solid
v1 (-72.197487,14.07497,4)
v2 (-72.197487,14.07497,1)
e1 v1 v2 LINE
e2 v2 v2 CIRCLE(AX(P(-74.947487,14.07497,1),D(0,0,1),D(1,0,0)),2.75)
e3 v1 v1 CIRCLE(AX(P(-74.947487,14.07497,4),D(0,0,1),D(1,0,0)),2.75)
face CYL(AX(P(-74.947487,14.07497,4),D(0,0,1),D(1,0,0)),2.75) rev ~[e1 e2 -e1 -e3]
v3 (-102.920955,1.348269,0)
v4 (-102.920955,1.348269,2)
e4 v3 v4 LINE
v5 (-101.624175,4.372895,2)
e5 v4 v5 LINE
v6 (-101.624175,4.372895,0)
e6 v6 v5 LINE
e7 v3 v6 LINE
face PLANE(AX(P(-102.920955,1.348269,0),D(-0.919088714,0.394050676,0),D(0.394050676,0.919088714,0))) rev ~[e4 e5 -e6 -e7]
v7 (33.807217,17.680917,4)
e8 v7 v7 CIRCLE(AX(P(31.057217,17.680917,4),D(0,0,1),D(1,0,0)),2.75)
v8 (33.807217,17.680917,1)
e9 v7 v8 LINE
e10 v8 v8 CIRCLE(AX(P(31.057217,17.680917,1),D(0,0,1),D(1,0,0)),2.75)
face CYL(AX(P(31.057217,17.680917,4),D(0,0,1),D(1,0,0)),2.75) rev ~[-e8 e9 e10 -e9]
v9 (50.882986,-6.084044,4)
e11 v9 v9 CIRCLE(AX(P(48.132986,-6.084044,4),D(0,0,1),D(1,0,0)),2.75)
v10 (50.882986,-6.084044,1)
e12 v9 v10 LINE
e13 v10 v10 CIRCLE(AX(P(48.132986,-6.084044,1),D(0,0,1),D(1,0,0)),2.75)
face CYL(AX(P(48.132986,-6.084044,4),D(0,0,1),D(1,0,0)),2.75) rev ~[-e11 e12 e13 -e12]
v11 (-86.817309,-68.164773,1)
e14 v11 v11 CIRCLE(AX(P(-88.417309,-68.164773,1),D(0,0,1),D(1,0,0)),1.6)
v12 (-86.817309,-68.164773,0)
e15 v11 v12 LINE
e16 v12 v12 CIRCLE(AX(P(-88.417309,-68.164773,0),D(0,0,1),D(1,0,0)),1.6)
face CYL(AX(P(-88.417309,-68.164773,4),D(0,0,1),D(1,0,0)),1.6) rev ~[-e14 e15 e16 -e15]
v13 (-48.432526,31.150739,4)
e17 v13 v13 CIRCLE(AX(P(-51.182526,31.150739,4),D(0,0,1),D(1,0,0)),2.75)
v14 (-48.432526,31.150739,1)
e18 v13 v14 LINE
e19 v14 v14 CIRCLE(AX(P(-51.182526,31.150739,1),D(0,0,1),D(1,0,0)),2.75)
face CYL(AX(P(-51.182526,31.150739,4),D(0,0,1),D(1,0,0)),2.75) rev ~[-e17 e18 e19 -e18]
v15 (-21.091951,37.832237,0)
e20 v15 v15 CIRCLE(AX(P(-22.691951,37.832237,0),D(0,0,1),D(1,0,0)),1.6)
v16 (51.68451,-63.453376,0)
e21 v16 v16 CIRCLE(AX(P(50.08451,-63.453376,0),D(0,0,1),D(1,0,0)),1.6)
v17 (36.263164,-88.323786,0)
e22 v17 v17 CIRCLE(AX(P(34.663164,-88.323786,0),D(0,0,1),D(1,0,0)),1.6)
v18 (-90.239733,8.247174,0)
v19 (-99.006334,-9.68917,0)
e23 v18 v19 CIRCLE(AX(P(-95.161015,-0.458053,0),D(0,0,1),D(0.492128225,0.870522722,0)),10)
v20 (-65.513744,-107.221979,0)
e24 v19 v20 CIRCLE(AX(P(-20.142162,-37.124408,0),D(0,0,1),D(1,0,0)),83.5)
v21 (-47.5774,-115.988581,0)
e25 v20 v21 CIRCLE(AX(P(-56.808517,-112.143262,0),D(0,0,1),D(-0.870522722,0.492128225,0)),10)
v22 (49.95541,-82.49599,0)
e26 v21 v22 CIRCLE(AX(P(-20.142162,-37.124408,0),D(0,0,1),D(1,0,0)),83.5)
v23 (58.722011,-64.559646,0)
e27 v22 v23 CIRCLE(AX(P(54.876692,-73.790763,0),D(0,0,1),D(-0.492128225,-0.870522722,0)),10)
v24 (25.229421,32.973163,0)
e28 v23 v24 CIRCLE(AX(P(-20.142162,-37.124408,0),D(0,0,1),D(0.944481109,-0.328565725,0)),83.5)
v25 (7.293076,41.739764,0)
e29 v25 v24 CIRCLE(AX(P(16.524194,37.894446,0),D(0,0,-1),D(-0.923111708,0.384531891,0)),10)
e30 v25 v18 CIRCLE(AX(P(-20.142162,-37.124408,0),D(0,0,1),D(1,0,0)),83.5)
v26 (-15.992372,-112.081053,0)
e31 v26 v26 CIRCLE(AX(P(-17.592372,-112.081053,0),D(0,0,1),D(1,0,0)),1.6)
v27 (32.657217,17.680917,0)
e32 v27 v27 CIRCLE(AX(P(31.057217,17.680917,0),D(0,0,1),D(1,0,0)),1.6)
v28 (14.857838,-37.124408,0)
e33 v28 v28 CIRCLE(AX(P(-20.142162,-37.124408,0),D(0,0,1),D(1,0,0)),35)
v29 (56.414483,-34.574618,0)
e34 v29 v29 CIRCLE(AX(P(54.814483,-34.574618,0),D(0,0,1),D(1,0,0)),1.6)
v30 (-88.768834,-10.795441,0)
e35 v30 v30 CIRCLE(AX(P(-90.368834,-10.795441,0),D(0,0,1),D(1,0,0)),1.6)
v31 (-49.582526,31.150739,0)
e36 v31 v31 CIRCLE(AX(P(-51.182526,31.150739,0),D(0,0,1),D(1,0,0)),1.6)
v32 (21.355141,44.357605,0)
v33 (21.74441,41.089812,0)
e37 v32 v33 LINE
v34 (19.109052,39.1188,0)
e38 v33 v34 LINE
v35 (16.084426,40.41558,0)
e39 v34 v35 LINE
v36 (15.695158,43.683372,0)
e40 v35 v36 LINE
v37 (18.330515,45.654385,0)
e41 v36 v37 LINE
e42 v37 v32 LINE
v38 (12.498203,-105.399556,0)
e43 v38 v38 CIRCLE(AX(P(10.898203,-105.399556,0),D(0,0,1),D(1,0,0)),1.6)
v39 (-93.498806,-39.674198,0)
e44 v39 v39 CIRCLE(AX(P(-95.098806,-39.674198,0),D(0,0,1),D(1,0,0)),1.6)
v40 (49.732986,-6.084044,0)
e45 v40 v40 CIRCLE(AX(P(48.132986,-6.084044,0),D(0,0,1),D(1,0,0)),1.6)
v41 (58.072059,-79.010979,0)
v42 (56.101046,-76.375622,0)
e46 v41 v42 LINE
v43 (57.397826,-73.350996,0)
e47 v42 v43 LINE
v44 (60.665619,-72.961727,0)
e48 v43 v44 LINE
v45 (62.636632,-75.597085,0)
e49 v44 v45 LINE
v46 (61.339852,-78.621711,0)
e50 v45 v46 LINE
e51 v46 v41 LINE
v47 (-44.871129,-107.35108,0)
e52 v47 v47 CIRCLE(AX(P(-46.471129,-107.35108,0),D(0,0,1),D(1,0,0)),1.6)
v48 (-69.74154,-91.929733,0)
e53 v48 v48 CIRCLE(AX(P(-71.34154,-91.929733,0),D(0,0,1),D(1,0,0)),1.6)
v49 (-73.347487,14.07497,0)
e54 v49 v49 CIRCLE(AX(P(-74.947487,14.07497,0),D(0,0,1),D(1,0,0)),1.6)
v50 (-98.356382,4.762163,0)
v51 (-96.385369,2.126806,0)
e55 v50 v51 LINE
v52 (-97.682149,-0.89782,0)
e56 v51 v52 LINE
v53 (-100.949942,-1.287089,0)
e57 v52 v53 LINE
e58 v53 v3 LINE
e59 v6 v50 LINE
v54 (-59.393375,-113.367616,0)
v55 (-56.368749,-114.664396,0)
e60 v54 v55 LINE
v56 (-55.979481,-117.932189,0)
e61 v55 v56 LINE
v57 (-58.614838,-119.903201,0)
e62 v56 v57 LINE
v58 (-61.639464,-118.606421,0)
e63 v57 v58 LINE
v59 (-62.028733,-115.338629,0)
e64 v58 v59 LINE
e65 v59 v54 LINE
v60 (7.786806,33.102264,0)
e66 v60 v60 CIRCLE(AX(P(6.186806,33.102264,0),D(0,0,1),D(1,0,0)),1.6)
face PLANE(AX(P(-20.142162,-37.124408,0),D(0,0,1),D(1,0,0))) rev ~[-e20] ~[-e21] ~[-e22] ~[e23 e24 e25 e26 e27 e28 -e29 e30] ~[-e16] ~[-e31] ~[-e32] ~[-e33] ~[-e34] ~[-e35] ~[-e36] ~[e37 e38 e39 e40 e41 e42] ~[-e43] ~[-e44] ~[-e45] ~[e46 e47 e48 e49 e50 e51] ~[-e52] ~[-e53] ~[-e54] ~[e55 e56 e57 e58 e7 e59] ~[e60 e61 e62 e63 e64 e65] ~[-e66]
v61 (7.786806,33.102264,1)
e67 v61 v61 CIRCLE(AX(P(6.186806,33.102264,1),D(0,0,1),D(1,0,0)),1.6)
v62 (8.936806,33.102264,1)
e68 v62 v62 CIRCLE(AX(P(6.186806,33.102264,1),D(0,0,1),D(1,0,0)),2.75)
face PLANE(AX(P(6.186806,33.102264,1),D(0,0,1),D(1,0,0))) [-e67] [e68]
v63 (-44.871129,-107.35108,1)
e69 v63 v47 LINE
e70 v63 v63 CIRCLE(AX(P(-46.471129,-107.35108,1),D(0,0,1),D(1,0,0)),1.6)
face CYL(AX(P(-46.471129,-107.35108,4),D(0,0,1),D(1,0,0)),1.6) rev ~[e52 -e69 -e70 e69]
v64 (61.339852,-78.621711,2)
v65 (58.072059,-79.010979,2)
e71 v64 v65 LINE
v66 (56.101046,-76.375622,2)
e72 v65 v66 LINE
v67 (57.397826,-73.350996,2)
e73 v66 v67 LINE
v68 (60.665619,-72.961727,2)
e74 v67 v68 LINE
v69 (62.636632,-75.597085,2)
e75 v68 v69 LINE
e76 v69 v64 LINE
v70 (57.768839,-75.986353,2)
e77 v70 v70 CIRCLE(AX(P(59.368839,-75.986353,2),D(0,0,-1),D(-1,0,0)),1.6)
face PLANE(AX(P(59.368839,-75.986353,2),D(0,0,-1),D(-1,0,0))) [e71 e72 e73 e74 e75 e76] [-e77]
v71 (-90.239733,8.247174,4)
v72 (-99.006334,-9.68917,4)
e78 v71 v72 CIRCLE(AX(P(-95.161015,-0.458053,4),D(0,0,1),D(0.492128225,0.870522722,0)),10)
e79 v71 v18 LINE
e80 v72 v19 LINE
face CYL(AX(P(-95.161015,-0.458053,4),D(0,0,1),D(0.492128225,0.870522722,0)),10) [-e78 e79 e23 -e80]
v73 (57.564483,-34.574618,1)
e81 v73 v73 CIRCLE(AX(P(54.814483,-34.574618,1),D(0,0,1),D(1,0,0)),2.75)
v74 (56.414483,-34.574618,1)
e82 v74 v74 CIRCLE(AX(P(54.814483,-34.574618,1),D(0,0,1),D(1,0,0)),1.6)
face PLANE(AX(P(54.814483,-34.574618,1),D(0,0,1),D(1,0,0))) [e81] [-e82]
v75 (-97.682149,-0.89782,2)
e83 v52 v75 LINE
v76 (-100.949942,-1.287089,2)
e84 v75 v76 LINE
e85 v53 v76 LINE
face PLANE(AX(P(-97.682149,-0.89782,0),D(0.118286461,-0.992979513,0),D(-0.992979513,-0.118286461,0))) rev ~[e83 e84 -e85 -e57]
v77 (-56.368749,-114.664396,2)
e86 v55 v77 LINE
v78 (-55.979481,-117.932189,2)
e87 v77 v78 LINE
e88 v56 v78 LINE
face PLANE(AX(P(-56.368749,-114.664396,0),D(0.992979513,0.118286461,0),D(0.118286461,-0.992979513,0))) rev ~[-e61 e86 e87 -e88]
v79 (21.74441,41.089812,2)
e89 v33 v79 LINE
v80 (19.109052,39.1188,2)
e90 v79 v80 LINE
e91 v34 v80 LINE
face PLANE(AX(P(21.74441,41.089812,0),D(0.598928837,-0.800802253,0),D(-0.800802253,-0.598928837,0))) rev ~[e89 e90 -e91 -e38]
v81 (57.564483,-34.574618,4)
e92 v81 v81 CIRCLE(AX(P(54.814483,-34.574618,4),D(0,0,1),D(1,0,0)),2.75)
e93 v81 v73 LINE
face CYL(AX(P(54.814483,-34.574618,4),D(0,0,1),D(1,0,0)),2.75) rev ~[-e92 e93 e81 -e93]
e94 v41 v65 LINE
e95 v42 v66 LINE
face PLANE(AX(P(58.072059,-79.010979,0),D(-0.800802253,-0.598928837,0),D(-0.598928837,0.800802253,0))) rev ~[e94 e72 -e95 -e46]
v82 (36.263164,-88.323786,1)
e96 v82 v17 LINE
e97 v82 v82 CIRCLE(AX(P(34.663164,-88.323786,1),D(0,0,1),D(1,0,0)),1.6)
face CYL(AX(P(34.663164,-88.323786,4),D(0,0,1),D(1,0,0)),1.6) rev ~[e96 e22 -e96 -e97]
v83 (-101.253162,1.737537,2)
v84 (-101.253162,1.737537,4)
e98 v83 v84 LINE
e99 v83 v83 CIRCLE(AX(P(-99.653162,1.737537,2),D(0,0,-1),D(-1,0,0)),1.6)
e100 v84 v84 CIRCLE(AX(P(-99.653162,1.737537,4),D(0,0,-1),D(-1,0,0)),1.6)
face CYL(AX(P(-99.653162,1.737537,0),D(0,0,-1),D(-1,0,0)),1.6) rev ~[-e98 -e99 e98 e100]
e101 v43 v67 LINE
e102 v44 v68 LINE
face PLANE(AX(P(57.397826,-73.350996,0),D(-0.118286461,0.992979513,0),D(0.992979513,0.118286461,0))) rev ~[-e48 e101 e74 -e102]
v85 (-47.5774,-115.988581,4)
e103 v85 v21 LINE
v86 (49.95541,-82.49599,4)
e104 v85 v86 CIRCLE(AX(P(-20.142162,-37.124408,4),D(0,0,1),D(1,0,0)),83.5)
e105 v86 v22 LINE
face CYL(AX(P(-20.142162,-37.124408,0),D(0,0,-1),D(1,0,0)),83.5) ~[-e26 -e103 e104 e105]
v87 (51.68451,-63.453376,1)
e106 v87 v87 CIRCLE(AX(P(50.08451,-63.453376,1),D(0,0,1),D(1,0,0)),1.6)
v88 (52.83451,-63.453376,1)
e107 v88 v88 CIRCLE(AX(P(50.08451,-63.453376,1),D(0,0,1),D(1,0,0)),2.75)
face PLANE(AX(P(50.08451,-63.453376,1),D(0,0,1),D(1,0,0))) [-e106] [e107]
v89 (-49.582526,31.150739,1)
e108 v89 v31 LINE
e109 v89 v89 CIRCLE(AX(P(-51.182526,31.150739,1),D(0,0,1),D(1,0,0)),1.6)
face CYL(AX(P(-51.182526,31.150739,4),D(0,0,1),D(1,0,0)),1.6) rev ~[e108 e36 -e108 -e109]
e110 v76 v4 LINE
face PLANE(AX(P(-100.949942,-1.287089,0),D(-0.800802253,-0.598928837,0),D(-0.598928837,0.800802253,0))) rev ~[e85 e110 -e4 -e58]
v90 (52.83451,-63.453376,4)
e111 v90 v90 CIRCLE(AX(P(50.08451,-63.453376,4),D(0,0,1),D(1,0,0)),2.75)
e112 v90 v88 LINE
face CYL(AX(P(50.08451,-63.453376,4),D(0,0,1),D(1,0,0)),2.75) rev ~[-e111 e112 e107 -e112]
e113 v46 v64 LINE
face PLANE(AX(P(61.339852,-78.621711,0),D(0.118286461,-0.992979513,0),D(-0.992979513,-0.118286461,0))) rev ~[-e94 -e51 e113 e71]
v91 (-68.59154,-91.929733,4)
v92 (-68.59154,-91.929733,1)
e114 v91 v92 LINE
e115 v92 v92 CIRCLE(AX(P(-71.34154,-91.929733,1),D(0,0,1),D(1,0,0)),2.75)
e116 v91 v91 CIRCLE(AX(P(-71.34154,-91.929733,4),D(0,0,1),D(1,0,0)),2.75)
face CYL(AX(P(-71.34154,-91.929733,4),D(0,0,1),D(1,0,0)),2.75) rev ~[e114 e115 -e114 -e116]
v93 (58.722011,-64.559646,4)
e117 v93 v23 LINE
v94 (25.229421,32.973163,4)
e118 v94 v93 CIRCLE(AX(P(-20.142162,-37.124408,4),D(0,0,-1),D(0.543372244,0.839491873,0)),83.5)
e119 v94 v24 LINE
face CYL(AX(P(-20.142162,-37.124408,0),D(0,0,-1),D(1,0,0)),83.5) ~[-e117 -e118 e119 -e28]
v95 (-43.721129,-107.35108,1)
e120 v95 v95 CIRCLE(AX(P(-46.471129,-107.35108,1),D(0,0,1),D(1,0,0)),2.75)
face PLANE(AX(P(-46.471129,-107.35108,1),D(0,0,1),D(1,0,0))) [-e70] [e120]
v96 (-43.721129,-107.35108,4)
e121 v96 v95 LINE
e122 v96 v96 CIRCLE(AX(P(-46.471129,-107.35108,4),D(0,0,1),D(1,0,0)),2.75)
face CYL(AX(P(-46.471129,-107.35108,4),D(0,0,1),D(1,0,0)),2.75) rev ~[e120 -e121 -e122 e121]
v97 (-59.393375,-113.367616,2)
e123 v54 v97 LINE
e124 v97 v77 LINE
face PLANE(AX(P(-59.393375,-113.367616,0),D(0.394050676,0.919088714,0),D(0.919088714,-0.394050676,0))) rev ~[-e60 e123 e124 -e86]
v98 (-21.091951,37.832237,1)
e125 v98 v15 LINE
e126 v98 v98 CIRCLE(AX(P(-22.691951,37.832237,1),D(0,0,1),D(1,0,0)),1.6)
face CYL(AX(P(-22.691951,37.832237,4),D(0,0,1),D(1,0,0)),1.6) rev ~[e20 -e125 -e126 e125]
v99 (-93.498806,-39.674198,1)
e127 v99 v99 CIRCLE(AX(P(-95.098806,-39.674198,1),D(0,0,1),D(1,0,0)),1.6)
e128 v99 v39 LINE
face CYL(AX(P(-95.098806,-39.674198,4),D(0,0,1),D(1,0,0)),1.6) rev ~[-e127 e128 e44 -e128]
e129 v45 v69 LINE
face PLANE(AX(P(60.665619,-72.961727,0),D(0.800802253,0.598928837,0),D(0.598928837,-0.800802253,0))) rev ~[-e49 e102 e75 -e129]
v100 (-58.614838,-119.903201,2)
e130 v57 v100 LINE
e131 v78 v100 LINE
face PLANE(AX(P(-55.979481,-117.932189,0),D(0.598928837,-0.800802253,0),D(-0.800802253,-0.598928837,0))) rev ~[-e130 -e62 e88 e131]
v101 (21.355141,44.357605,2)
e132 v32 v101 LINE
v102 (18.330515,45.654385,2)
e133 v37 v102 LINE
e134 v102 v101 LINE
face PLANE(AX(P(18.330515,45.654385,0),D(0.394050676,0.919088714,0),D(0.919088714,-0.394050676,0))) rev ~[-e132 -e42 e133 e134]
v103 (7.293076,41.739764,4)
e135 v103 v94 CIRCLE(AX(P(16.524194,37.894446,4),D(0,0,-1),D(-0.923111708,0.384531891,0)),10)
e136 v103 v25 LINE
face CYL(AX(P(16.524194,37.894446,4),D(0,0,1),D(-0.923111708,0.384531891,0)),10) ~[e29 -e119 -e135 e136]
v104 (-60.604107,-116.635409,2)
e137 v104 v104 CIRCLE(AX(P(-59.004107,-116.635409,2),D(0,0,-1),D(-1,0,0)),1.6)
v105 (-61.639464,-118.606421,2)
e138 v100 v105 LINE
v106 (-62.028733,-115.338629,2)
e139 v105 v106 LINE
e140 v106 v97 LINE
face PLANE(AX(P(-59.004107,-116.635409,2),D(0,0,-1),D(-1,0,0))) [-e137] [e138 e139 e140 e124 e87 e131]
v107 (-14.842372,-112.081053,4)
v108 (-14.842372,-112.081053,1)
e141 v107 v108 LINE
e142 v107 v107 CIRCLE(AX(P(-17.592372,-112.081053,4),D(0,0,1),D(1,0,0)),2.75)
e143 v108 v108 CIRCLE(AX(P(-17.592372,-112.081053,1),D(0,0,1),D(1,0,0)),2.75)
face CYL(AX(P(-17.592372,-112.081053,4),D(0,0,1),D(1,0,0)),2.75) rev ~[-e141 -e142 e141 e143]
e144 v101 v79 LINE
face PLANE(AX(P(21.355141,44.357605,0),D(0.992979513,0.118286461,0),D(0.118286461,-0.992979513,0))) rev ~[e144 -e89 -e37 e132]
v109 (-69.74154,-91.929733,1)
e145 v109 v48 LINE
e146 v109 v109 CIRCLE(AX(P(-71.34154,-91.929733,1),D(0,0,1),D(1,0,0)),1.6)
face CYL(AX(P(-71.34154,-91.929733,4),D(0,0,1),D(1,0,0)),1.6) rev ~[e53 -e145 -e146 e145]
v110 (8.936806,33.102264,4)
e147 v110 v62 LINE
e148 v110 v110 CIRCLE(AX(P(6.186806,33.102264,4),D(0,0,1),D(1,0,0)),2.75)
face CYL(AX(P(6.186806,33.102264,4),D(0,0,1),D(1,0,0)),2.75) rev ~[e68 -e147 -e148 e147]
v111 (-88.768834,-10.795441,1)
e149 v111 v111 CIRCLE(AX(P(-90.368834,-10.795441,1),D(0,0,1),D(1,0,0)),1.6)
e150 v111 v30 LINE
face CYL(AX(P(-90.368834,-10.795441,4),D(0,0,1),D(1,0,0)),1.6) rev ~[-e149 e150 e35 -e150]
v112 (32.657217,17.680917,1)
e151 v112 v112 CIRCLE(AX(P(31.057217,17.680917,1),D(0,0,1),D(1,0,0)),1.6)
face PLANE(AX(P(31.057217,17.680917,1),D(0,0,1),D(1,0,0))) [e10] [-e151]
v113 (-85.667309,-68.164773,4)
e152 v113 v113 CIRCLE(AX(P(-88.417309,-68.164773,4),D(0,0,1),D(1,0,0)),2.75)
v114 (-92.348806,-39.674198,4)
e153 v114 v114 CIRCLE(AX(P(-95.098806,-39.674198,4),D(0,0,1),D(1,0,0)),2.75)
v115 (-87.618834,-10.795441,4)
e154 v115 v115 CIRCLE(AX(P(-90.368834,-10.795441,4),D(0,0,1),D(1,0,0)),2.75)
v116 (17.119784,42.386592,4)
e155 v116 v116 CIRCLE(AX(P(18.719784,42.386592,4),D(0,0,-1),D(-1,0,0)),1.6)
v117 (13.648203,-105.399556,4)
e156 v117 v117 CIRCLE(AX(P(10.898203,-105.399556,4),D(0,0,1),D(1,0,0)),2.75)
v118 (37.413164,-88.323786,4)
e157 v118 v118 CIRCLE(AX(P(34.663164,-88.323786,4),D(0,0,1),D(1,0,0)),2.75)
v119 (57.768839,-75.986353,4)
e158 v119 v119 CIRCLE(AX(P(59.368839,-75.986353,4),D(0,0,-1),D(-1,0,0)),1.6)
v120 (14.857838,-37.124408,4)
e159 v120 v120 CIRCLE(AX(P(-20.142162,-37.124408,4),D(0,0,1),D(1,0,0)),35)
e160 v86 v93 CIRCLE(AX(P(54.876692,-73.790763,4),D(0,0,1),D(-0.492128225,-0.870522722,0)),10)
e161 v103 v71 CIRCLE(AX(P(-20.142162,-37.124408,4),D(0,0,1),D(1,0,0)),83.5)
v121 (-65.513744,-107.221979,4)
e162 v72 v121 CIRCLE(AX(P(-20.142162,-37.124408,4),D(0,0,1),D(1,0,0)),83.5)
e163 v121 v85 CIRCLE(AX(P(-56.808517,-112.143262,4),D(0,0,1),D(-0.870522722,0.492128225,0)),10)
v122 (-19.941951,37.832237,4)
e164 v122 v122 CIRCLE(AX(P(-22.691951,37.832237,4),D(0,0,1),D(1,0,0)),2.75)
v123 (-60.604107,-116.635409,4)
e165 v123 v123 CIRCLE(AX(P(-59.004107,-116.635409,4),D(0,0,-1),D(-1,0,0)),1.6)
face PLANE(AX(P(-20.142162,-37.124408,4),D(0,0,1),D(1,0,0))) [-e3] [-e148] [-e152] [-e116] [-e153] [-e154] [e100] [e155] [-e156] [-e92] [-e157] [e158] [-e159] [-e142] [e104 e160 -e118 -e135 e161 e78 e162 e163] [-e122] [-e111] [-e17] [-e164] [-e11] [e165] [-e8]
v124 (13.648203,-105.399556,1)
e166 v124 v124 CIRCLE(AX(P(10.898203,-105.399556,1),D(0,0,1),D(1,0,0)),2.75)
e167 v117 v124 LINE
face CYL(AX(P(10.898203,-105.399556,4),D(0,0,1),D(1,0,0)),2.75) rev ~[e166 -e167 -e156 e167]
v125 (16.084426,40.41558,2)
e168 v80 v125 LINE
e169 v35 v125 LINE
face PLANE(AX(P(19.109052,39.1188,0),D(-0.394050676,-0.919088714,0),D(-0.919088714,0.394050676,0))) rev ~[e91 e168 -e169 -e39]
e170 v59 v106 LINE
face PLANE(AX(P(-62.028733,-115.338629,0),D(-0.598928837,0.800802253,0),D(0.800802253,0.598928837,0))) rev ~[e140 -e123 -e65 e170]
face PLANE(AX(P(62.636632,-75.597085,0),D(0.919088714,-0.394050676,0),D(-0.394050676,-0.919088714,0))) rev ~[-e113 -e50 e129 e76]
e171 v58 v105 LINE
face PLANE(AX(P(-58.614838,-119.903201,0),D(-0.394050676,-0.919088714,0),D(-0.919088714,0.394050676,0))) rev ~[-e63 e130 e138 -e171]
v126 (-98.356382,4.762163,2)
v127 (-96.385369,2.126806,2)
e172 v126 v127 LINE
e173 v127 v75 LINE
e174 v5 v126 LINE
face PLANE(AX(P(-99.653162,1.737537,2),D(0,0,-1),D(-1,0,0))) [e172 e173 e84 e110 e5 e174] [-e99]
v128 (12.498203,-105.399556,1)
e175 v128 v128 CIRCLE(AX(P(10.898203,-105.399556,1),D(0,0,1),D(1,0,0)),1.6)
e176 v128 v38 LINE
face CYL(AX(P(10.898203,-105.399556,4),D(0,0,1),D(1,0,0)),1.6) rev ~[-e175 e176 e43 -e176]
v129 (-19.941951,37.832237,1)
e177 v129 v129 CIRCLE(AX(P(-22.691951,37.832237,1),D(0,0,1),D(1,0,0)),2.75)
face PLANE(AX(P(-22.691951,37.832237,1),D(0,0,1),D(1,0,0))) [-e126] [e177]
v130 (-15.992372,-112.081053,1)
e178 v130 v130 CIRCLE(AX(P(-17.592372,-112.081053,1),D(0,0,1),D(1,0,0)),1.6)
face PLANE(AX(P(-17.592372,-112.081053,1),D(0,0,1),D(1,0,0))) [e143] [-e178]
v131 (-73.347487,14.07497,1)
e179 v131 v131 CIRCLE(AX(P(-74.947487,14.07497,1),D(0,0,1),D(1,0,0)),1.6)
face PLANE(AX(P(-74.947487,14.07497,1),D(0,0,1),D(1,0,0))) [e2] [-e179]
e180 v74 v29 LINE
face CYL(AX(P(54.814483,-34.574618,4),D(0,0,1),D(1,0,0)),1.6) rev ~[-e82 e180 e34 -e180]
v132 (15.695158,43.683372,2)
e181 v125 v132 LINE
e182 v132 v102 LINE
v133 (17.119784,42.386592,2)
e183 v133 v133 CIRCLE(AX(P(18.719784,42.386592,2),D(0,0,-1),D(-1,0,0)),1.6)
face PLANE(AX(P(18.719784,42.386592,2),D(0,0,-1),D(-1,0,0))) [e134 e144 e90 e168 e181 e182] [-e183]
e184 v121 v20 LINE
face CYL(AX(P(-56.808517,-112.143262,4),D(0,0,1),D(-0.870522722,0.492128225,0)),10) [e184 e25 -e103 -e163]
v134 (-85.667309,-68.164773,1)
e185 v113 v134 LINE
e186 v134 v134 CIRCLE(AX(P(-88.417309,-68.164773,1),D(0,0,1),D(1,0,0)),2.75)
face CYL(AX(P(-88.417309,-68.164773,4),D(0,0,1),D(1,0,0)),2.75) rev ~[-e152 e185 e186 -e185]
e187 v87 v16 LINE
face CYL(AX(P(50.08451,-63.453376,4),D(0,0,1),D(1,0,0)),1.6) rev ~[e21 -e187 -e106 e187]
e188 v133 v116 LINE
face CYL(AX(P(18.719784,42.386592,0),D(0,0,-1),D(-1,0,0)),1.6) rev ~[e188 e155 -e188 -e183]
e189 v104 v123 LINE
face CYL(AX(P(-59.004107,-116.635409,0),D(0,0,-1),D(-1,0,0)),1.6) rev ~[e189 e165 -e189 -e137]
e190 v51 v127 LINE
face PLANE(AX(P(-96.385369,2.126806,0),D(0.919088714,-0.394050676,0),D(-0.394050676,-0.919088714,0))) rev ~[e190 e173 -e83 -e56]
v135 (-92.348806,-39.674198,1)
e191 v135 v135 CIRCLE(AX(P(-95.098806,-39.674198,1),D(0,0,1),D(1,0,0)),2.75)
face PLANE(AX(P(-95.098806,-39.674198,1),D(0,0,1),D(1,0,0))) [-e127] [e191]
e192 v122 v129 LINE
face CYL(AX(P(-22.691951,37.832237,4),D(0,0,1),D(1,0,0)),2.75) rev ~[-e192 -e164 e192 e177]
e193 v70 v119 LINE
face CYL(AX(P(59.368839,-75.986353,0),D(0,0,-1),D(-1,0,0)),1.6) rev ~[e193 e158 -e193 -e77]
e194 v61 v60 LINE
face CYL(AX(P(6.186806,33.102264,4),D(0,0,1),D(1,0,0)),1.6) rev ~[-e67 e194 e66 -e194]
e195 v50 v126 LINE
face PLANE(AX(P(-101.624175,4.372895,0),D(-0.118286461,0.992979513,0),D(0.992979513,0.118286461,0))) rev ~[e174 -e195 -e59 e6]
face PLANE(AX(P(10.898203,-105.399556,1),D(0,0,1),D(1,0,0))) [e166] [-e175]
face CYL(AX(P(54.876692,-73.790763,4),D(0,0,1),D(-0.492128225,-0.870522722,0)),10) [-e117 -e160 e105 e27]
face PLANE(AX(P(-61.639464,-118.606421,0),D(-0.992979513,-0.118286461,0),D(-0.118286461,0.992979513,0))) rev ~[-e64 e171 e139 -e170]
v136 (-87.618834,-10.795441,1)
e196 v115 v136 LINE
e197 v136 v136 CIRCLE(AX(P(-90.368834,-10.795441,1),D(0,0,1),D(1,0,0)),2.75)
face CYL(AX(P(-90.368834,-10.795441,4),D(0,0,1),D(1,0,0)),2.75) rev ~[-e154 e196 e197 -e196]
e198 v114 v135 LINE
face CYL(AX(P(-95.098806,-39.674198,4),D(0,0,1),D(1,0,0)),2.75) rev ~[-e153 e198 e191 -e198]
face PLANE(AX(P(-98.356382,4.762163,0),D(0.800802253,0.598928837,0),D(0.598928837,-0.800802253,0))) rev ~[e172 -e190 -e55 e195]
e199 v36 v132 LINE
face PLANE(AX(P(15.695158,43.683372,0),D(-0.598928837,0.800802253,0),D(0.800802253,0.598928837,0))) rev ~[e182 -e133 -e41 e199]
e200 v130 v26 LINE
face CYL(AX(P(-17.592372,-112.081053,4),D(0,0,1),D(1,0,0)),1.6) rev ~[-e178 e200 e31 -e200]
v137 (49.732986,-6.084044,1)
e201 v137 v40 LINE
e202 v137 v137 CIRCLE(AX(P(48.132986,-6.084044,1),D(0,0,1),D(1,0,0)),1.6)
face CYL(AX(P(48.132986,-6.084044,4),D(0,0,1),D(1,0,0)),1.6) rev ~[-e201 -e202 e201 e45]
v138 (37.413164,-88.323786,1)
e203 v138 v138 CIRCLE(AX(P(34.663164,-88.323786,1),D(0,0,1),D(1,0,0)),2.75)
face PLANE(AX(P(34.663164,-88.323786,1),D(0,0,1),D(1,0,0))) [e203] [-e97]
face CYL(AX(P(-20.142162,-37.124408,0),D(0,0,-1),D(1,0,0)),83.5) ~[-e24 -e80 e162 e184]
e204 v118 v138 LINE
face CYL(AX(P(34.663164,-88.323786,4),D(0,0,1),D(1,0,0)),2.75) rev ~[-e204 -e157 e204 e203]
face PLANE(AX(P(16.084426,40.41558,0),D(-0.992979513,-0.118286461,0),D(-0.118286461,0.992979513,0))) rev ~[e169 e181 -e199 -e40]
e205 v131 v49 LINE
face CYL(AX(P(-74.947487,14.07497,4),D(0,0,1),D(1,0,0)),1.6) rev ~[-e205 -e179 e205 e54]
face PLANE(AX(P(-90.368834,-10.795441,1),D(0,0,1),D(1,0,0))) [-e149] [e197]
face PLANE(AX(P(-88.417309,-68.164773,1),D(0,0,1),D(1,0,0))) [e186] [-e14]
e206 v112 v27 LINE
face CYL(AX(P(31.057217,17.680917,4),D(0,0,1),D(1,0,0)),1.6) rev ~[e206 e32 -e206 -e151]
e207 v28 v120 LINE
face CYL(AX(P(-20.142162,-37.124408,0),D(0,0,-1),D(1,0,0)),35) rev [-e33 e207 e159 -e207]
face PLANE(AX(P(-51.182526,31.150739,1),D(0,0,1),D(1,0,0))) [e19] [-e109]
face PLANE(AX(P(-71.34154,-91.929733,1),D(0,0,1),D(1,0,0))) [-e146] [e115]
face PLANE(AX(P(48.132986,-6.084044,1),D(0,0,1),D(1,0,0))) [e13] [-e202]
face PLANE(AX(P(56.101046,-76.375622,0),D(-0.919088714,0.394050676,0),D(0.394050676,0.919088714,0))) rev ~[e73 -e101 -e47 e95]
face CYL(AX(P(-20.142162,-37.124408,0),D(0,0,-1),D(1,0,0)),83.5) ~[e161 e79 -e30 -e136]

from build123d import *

# Parameters (mm, degrees)
SKETCH1_R           = 83.5
SKETCH1_R_2         = 35
BOSS_EXTRUDE1_DEPTH = 4
CUT_EXTRUDE1_REACH  = 6
SKETCH2_R           = 1.6
SKETCH3_R           = 2.75
CUT_EXTRUDE2_DEPTH  = 3
BOSS_EXTRUDE2_DEPTH = 4
CUT_EXTRUDE3_REACH  = 6
SKETCH5_R           = 1.6
CUT_EXTRUDE4_DEPTH  = 2


with BuildPart() as part:
    # Sketch1 → Boss-Extrude1 (new body)
    with BuildSketch(Plane.XY):
        with Locations((-20.142161583, -37.124408079)):
            Circle(SKETCH1_R)
        with Locations((-20.142161583, -37.124408079)):
            Circle(SKETCH1_R_2, mode=Mode.SUBTRACT)
    extrude(amount=BOSS_EXTRUDE1_DEPTH)

    # Sketch2 → Cut-Extrude1 (cut, up to next)
    with BuildSketch(Plane.XY.offset(4), mode=Mode.PRIVATE) as cut_extrude1_sk1:
        with Locations((-51.182526114, 31.150739448)):
            Circle(SKETCH2_R)
    cut_extrude1_tool1 = extrude(cut_extrude1_sk1.sketch, amount=-CUT_EXTRUDE1_REACH, mode=Mode.PRIVATE) & part.part
    add(cut_extrude1_tool1.solids().sort_by_distance((-51.182526, 31.150739, 4))[0], mode=Mode.SUBTRACT)
    # Sketch2 → Cut-Extrude1 (cut, up to next)
    with BuildSketch(Plane.XY.offset(4), mode=Mode.PRIVATE) as cut_extrude1_sk2:
        with Locations((-22.691951254, 37.83223654)):
            Circle(SKETCH2_R)
    cut_extrude1_tool2 = extrude(cut_extrude1_sk2.sketch, amount=-CUT_EXTRUDE1_REACH, mode=Mode.PRIVATE) & part.part
    add(cut_extrude1_tool2.solids().sort_by_distance((-22.691951, 37.832237, 4))[0], mode=Mode.SUBTRACT)
    # Sketch2 → Cut-Extrude1 (cut, up to next)
    with BuildSketch(Plane.XY.offset(4), mode=Mode.PRIVATE) as cut_extrude1_sk3:
        with Locations((6.186805969, 33.102263974)):
            Circle(SKETCH2_R)
    cut_extrude1_tool3 = extrude(cut_extrude1_sk3.sketch, amount=-CUT_EXTRUDE1_REACH, mode=Mode.PRIVATE) & part.part
    add(cut_extrude1_tool3.solids().sort_by_distance((6.186806, 33.102264, 4))[0], mode=Mode.SUBTRACT)
    # Sketch2 → Cut-Extrude1 (cut, up to next)
    with BuildSketch(Plane.XY.offset(4), mode=Mode.PRIVATE) as cut_extrude1_sk4:
        with Locations((31.057216555, 17.680917193)):
            Circle(SKETCH2_R)
    cut_extrude1_tool4 = extrude(cut_extrude1_sk4.sketch, amount=-CUT_EXTRUDE1_REACH, mode=Mode.PRIVATE) & part.part
    add(cut_extrude1_tool4.solids().sort_by_distance((31.057217, 17.680917, 4))[0], mode=Mode.SUBTRACT)
    # Sketch2 → Cut-Extrude1 (cut, up to next)
    with BuildSketch(Plane.XY.offset(4), mode=Mode.PRIVATE) as cut_extrude1_sk5:
        with Locations((48.132985943, -6.084043548)):
            Circle(SKETCH2_R)
    cut_extrude1_tool5 = extrude(cut_extrude1_sk5.sketch, amount=-CUT_EXTRUDE1_REACH, mode=Mode.PRIVATE) & part.part
    add(cut_extrude1_tool5.solids().sort_by_distance((48.132986, -6.084044, 4))[0], mode=Mode.SUBTRACT)
    # Sketch2 → Cut-Extrude1 (cut, up to next)
    with BuildSketch(Plane.XY.offset(4), mode=Mode.PRIVATE) as cut_extrude1_sk6:
        with Locations((54.814483036, -34.574618408)):
            Circle(SKETCH2_R)
    cut_extrude1_tool6 = extrude(cut_extrude1_sk6.sketch, amount=-CUT_EXTRUDE1_REACH, mode=Mode.PRIVATE) & part.part
    add(cut_extrude1_tool6.solids().sort_by_distance((54.814483, -34.574618, 4))[0], mode=Mode.SUBTRACT)
    # Sketch2 → Cut-Extrude1 (cut, up to next)
    with BuildSketch(Plane.XY.offset(4), mode=Mode.PRIVATE) as cut_extrude1_sk7:
        with Locations((50.084510469, -63.453375632)):
            Circle(SKETCH2_R)
    cut_extrude1_tool7 = extrude(cut_extrude1_sk7.sketch, amount=-CUT_EXTRUDE1_REACH, mode=Mode.PRIVATE) & part.part
    add(cut_extrude1_tool7.solids().sort_by_distance((50.08451, -63.453376, 4))[0], mode=Mode.SUBTRACT)
    # Sketch2 → Cut-Extrude1 (cut, up to next)
    with BuildSketch(Plane.XY.offset(4), mode=Mode.PRIVATE) as cut_extrude1_sk8:
        with Locations((34.663163689, -88.323786218)):
            Circle(SKETCH2_R)
    cut_extrude1_tool8 = extrude(cut_extrude1_sk8.sketch, amount=-CUT_EXTRUDE1_REACH, mode=Mode.PRIVATE) & part.part
    add(cut_extrude1_tool8.solids().sort_by_distance((34.663164, -88.323786, 4))[0], mode=Mode.SUBTRACT)
    # Sketch2 → Cut-Extrude1 (cut, up to next)
    with BuildSketch(Plane.XY.offset(4), mode=Mode.PRIVATE) as cut_extrude1_sk9:
        with Locations((10.898202947, -105.399555606)):
            Circle(SKETCH2_R)
    cut_extrude1_tool9 = extrude(cut_extrude1_sk9.sketch, amount=-CUT_EXTRUDE1_REACH, mode=Mode.PRIVATE) & part.part
    add(cut_extrude1_tool9.solids().sort_by_distance((10.898203, -105.399556, 4))[0], mode=Mode.SUBTRACT)
    # Sketch2 → Cut-Extrude1 (cut, up to next)
    with BuildSketch(Plane.XY.offset(4), mode=Mode.PRIVATE) as cut_extrude1_sk10:
        with Locations((-17.592371912, -112.081052699)):
            Circle(SKETCH2_R)
    cut_extrude1_tool10 = extrude(cut_extrude1_sk10.sketch, amount=-CUT_EXTRUDE1_REACH, mode=Mode.PRIVATE) & part.part
    add(cut_extrude1_tool10.solids().sort_by_distance((-17.592372, -112.081053, 4))[0], mode=Mode.SUBTRACT)
    # Sketch2 → Cut-Extrude1 (cut, up to next)
    with BuildSketch(Plane.XY.offset(4), mode=Mode.PRIVATE) as cut_extrude1_sk11:
        with Locations((-46.471129136, -107.351080132)):
            Circle(SKETCH2_R)
    cut_extrude1_tool11 = extrude(cut_extrude1_sk11.sketch, amount=-CUT_EXTRUDE1_REACH, mode=Mode.PRIVATE) & part.part
    add(cut_extrude1_tool11.solids().sort_by_distance((-46.471129, -107.35108, 4))[0], mode=Mode.SUBTRACT)
    # Sketch2 → Cut-Extrude1 (cut, up to next)
    with BuildSketch(Plane.XY.offset(4), mode=Mode.PRIVATE) as cut_extrude1_sk12:
        with Locations((-71.341539722, -91.929733352)):
            Circle(SKETCH2_R)
    cut_extrude1_tool12 = extrude(cut_extrude1_sk12.sketch, amount=-CUT_EXTRUDE1_REACH, mode=Mode.PRIVATE) & part.part
    add(cut_extrude1_tool12.solids().sort_by_distance((-71.34154, -91.929733, 4))[0], mode=Mode.SUBTRACT)
    # Sketch2 → Cut-Extrude1 (cut, up to next)
    with BuildSketch(Plane.XY.offset(4), mode=Mode.PRIVATE) as cut_extrude1_sk13:
        with Locations((-88.41730911, -68.16477261)):
            Circle(SKETCH2_R)
    cut_extrude1_tool13 = extrude(cut_extrude1_sk13.sketch, amount=-CUT_EXTRUDE1_REACH, mode=Mode.PRIVATE) & part.part
    add(cut_extrude1_tool13.solids().sort_by_distance((-88.417309, -68.164773, 4))[0], mode=Mode.SUBTRACT)
    # Sketch2 → Cut-Extrude1 (cut, up to next)
    with BuildSketch(Plane.XY.offset(4), mode=Mode.PRIVATE) as cut_extrude1_sk14:
        with Locations((-95.098806203, -39.67419775)):
            Circle(SKETCH2_R)
    cut_extrude1_tool14 = extrude(cut_extrude1_sk14.sketch, amount=-CUT_EXTRUDE1_REACH, mode=Mode.PRIVATE) & part.part
    add(cut_extrude1_tool14.solids().sort_by_distance((-95.098806, -39.674198, 4))[0], mode=Mode.SUBTRACT)
    # Sketch2 → Cut-Extrude1 (cut, up to next)
    with BuildSketch(Plane.XY.offset(4), mode=Mode.PRIVATE) as cut_extrude1_sk15:
        with Locations((-90.368833636, -10.795440527)):
            Circle(SKETCH2_R)
    cut_extrude1_tool15 = extrude(cut_extrude1_sk15.sketch, amount=-CUT_EXTRUDE1_REACH, mode=Mode.PRIVATE) & part.part
    add(cut_extrude1_tool15.solids().sort_by_distance((-90.368834, -10.795441, 4))[0], mode=Mode.SUBTRACT)
    # Sketch2 → Cut-Extrude1 (cut, up to next)
    with BuildSketch(Plane.XY.offset(4), mode=Mode.PRIVATE) as cut_extrude1_sk16:
        with Locations((-74.947486856, 14.074970059)):
            Circle(SKETCH2_R)
    cut_extrude1_tool16 = extrude(cut_extrude1_sk16.sketch, amount=-CUT_EXTRUDE1_REACH, mode=Mode.PRIVATE) & part.part
    add(cut_extrude1_tool16.solids().sort_by_distance((-74.947487, 14.07497, 4))[0], mode=Mode.SUBTRACT)

    # Sketch3 → Cut-Extrude2 (cut)
    with BuildSketch(Plane.XY.offset(4)):
        with Locations((-74.947486856, 14.074970059)):
            Circle(SKETCH3_R)
        with Locations((-51.182526114, 31.150739448)):
            Circle(SKETCH3_R)
        with Locations((-22.691951254, 37.83223654)):
            Circle(SKETCH3_R)
        with Locations((6.186805969, 33.102263974)):
            Circle(SKETCH3_R)
        with Locations((31.057216555, 17.680917193)):
            Circle(SKETCH3_R)
        with Locations((48.132985943, -6.084043548)):
            Circle(SKETCH3_R)
        with Locations((54.814483036, -34.574618408)):
            Circle(SKETCH3_R)
        with Locations((50.084510469, -63.453375632)):
            Circle(SKETCH3_R)
        with Locations((34.663163689, -88.323786218)):
            Circle(SKETCH3_R)
        with Locations((10.898202947, -105.399555606)):
            Circle(SKETCH3_R)
        with Locations((-17.592371912, -112.081052699)):
            Circle(SKETCH3_R)
        with Locations((-46.471129136, -107.351080132)):
            Circle(SKETCH3_R)
        with Locations((-71.341539722, -91.929733352)):
            Circle(SKETCH3_R)
        with Locations((-88.41730911, -68.16477261)):
            Circle(SKETCH3_R)
        with Locations((-95.098806203, -39.67419775)):
            Circle(SKETCH3_R)
        with Locations((-90.368833636, -10.795440527)):
            Circle(SKETCH3_R)
    extrude(amount=-CUT_EXTRUDE2_DEPTH, mode=Mode.SUBTRACT)

    # Sketch4 → Boss-Extrude2 (add)
    with BuildSketch(Plane.XY.offset(4)):
        with BuildLine():
            ThreePointArc((7.293076451, 41.739764483), (20.915373779, 46.878739421), (25.229420752, 32.973163323))
            ThreePointArc((25.229420752, 32.973163323), (16.524193527, 37.894445571), (7.293076451, 41.739764483))
        make_face()
        with BuildLine():
            ThreePointArc((58.722010979, -64.559646114), (54.876692066, -73.790763189), (49.955409818, -82.495990414))
            ThreePointArc((49.955409818, -82.495990414), (63.860985917, -78.181943442), (58.722010979, -64.559646114))
        make_face()
        with BuildLine():
            ThreePointArc((-47.577399618, -115.988580642), (-56.808516694, -112.143261729), (-65.513743918, -107.221979481))
            ThreePointArc((-65.513743918, -107.221979481), (-61.199696946, -121.127555579), (-47.577399618, -115.988580642))
        make_face()
        with BuildLine():
            ThreePointArc((-99.006334146, -9.689170044), (-95.161015233, -0.458052969), (-90.239732985, 8.247174256))
            ThreePointArc((-90.239732985, 8.247174256), (-104.145309084, 3.933127284), (-99.006334146, -9.689170044))
        make_face()
    extrude(amount=-BOSS_EXTRUDE2_DEPTH)

    # Sketch5 → Cut-Extrude3 (cut, up to next)
    with BuildSketch(Plane(origin=(0, 0, 0), x_dir=(-1, 0, 0), z_dir=(0, 0, -1)), mode=Mode.PRIVATE) as cut_extrude3_sk1:
        with Locations((59.00410682, -116.635408654)):
            Circle(SKETCH5_R)
    cut_extrude3_tool1 = extrude(cut_extrude3_sk1.sketch, amount=-CUT_EXTRUDE3_REACH, mode=Mode.PRIVATE) & part.part
    add(cut_extrude3_tool1.solids().sort_by_distance((-59.004107, -116.635409, 0))[0], mode=Mode.SUBTRACT)
    # Sketch5 → Cut-Extrude3 (cut, up to next)
    with BuildSketch(Plane(origin=(0, 0, 0), x_dir=(-1, 0, 0), z_dir=(0, 0, -1)), mode=Mode.PRIVATE) as cut_extrude3_sk2:
        with Locations((-59.368838992, -75.986353316)):
            Circle(SKETCH5_R)
    cut_extrude3_tool2 = extrude(cut_extrude3_sk2.sketch, amount=-CUT_EXTRUDE3_REACH, mode=Mode.PRIVATE) & part.part
    add(cut_extrude3_tool2.solids().sort_by_distance((59.368839, -75.986353, 0))[0], mode=Mode.SUBTRACT)
    # Sketch5 → Cut-Extrude3 (cut, up to next)
    with BuildSketch(Plane(origin=(0, 0, 0), x_dir=(-1, 0, 0), z_dir=(0, 0, -1)), mode=Mode.PRIVATE) as cut_extrude3_sk3:
        with Locations((-18.719783653, 42.386592496)):
            Circle(SKETCH5_R)
    cut_extrude3_tool3 = extrude(cut_extrude3_sk3.sketch, amount=-CUT_EXTRUDE3_REACH, mode=Mode.PRIVATE) & part.part
    add(cut_extrude3_tool3.solids().sort_by_distance((18.719784, 42.386592, 0))[0], mode=Mode.SUBTRACT)
    # Sketch5 → Cut-Extrude3 (cut, up to next)
    with BuildSketch(Plane(origin=(0, 0, 0), x_dir=(-1, 0, 0), z_dir=(0, 0, -1)), mode=Mode.PRIVATE) as cut_extrude3_sk4:
        with Locations((99.653162158, 1.737537157)):
            Circle(SKETCH5_R)
    cut_extrude3_tool4 = extrude(cut_extrude3_sk4.sketch, amount=-CUT_EXTRUDE3_REACH, mode=Mode.PRIVATE) & part.part
    add(cut_extrude3_tool4.solids().sort_by_distance((-99.653162, 1.737537, 0))[0], mode=Mode.SUBTRACT)

    # Sketch6 → Cut-Extrude4 (cut)
    with BuildSketch(Plane(origin=(0, 0, 0), x_dir=(-1, 0, 0), z_dir=(0, 0, -1))):
        Polygon((-56.101046154, -76.375621821), (-57.397826158, -73.350995957), (-60.665618996, -72.961727451), (-62.636631829, -75.59708481), (-61.339851825, -78.621710675), (-58.072058987, -79.01097918), align=None)
        Polygon((55.979480955, -117.932188658), (58.614838314, -119.903201492), (61.639464179, -118.606421488), (62.028732685, -115.33862865), (59.393375325, -113.367615816), (56.368749461, -114.664395821), align=None)
        Polygon((-19.109052159, 39.118799658), (-16.084426294, 40.415579662), (-15.695157789, 43.6833725), (-18.330515148, 45.654385334), (-21.355141012, 44.357605329), (-21.744409518, 41.089812492), align=None)
        Polygon((96.385369321, 2.126805663), (97.682149325, -0.897820202), (100.949942163, -1.287088707), (102.920954996, 1.348268652), (101.624174992, 4.372894516), (98.356382154, 4.762163022), align=None)
    extrude(amount=-CUT_EXTRUDE4_DEPTH, mode=Mode.SUBTRACT)


solid = part.part
